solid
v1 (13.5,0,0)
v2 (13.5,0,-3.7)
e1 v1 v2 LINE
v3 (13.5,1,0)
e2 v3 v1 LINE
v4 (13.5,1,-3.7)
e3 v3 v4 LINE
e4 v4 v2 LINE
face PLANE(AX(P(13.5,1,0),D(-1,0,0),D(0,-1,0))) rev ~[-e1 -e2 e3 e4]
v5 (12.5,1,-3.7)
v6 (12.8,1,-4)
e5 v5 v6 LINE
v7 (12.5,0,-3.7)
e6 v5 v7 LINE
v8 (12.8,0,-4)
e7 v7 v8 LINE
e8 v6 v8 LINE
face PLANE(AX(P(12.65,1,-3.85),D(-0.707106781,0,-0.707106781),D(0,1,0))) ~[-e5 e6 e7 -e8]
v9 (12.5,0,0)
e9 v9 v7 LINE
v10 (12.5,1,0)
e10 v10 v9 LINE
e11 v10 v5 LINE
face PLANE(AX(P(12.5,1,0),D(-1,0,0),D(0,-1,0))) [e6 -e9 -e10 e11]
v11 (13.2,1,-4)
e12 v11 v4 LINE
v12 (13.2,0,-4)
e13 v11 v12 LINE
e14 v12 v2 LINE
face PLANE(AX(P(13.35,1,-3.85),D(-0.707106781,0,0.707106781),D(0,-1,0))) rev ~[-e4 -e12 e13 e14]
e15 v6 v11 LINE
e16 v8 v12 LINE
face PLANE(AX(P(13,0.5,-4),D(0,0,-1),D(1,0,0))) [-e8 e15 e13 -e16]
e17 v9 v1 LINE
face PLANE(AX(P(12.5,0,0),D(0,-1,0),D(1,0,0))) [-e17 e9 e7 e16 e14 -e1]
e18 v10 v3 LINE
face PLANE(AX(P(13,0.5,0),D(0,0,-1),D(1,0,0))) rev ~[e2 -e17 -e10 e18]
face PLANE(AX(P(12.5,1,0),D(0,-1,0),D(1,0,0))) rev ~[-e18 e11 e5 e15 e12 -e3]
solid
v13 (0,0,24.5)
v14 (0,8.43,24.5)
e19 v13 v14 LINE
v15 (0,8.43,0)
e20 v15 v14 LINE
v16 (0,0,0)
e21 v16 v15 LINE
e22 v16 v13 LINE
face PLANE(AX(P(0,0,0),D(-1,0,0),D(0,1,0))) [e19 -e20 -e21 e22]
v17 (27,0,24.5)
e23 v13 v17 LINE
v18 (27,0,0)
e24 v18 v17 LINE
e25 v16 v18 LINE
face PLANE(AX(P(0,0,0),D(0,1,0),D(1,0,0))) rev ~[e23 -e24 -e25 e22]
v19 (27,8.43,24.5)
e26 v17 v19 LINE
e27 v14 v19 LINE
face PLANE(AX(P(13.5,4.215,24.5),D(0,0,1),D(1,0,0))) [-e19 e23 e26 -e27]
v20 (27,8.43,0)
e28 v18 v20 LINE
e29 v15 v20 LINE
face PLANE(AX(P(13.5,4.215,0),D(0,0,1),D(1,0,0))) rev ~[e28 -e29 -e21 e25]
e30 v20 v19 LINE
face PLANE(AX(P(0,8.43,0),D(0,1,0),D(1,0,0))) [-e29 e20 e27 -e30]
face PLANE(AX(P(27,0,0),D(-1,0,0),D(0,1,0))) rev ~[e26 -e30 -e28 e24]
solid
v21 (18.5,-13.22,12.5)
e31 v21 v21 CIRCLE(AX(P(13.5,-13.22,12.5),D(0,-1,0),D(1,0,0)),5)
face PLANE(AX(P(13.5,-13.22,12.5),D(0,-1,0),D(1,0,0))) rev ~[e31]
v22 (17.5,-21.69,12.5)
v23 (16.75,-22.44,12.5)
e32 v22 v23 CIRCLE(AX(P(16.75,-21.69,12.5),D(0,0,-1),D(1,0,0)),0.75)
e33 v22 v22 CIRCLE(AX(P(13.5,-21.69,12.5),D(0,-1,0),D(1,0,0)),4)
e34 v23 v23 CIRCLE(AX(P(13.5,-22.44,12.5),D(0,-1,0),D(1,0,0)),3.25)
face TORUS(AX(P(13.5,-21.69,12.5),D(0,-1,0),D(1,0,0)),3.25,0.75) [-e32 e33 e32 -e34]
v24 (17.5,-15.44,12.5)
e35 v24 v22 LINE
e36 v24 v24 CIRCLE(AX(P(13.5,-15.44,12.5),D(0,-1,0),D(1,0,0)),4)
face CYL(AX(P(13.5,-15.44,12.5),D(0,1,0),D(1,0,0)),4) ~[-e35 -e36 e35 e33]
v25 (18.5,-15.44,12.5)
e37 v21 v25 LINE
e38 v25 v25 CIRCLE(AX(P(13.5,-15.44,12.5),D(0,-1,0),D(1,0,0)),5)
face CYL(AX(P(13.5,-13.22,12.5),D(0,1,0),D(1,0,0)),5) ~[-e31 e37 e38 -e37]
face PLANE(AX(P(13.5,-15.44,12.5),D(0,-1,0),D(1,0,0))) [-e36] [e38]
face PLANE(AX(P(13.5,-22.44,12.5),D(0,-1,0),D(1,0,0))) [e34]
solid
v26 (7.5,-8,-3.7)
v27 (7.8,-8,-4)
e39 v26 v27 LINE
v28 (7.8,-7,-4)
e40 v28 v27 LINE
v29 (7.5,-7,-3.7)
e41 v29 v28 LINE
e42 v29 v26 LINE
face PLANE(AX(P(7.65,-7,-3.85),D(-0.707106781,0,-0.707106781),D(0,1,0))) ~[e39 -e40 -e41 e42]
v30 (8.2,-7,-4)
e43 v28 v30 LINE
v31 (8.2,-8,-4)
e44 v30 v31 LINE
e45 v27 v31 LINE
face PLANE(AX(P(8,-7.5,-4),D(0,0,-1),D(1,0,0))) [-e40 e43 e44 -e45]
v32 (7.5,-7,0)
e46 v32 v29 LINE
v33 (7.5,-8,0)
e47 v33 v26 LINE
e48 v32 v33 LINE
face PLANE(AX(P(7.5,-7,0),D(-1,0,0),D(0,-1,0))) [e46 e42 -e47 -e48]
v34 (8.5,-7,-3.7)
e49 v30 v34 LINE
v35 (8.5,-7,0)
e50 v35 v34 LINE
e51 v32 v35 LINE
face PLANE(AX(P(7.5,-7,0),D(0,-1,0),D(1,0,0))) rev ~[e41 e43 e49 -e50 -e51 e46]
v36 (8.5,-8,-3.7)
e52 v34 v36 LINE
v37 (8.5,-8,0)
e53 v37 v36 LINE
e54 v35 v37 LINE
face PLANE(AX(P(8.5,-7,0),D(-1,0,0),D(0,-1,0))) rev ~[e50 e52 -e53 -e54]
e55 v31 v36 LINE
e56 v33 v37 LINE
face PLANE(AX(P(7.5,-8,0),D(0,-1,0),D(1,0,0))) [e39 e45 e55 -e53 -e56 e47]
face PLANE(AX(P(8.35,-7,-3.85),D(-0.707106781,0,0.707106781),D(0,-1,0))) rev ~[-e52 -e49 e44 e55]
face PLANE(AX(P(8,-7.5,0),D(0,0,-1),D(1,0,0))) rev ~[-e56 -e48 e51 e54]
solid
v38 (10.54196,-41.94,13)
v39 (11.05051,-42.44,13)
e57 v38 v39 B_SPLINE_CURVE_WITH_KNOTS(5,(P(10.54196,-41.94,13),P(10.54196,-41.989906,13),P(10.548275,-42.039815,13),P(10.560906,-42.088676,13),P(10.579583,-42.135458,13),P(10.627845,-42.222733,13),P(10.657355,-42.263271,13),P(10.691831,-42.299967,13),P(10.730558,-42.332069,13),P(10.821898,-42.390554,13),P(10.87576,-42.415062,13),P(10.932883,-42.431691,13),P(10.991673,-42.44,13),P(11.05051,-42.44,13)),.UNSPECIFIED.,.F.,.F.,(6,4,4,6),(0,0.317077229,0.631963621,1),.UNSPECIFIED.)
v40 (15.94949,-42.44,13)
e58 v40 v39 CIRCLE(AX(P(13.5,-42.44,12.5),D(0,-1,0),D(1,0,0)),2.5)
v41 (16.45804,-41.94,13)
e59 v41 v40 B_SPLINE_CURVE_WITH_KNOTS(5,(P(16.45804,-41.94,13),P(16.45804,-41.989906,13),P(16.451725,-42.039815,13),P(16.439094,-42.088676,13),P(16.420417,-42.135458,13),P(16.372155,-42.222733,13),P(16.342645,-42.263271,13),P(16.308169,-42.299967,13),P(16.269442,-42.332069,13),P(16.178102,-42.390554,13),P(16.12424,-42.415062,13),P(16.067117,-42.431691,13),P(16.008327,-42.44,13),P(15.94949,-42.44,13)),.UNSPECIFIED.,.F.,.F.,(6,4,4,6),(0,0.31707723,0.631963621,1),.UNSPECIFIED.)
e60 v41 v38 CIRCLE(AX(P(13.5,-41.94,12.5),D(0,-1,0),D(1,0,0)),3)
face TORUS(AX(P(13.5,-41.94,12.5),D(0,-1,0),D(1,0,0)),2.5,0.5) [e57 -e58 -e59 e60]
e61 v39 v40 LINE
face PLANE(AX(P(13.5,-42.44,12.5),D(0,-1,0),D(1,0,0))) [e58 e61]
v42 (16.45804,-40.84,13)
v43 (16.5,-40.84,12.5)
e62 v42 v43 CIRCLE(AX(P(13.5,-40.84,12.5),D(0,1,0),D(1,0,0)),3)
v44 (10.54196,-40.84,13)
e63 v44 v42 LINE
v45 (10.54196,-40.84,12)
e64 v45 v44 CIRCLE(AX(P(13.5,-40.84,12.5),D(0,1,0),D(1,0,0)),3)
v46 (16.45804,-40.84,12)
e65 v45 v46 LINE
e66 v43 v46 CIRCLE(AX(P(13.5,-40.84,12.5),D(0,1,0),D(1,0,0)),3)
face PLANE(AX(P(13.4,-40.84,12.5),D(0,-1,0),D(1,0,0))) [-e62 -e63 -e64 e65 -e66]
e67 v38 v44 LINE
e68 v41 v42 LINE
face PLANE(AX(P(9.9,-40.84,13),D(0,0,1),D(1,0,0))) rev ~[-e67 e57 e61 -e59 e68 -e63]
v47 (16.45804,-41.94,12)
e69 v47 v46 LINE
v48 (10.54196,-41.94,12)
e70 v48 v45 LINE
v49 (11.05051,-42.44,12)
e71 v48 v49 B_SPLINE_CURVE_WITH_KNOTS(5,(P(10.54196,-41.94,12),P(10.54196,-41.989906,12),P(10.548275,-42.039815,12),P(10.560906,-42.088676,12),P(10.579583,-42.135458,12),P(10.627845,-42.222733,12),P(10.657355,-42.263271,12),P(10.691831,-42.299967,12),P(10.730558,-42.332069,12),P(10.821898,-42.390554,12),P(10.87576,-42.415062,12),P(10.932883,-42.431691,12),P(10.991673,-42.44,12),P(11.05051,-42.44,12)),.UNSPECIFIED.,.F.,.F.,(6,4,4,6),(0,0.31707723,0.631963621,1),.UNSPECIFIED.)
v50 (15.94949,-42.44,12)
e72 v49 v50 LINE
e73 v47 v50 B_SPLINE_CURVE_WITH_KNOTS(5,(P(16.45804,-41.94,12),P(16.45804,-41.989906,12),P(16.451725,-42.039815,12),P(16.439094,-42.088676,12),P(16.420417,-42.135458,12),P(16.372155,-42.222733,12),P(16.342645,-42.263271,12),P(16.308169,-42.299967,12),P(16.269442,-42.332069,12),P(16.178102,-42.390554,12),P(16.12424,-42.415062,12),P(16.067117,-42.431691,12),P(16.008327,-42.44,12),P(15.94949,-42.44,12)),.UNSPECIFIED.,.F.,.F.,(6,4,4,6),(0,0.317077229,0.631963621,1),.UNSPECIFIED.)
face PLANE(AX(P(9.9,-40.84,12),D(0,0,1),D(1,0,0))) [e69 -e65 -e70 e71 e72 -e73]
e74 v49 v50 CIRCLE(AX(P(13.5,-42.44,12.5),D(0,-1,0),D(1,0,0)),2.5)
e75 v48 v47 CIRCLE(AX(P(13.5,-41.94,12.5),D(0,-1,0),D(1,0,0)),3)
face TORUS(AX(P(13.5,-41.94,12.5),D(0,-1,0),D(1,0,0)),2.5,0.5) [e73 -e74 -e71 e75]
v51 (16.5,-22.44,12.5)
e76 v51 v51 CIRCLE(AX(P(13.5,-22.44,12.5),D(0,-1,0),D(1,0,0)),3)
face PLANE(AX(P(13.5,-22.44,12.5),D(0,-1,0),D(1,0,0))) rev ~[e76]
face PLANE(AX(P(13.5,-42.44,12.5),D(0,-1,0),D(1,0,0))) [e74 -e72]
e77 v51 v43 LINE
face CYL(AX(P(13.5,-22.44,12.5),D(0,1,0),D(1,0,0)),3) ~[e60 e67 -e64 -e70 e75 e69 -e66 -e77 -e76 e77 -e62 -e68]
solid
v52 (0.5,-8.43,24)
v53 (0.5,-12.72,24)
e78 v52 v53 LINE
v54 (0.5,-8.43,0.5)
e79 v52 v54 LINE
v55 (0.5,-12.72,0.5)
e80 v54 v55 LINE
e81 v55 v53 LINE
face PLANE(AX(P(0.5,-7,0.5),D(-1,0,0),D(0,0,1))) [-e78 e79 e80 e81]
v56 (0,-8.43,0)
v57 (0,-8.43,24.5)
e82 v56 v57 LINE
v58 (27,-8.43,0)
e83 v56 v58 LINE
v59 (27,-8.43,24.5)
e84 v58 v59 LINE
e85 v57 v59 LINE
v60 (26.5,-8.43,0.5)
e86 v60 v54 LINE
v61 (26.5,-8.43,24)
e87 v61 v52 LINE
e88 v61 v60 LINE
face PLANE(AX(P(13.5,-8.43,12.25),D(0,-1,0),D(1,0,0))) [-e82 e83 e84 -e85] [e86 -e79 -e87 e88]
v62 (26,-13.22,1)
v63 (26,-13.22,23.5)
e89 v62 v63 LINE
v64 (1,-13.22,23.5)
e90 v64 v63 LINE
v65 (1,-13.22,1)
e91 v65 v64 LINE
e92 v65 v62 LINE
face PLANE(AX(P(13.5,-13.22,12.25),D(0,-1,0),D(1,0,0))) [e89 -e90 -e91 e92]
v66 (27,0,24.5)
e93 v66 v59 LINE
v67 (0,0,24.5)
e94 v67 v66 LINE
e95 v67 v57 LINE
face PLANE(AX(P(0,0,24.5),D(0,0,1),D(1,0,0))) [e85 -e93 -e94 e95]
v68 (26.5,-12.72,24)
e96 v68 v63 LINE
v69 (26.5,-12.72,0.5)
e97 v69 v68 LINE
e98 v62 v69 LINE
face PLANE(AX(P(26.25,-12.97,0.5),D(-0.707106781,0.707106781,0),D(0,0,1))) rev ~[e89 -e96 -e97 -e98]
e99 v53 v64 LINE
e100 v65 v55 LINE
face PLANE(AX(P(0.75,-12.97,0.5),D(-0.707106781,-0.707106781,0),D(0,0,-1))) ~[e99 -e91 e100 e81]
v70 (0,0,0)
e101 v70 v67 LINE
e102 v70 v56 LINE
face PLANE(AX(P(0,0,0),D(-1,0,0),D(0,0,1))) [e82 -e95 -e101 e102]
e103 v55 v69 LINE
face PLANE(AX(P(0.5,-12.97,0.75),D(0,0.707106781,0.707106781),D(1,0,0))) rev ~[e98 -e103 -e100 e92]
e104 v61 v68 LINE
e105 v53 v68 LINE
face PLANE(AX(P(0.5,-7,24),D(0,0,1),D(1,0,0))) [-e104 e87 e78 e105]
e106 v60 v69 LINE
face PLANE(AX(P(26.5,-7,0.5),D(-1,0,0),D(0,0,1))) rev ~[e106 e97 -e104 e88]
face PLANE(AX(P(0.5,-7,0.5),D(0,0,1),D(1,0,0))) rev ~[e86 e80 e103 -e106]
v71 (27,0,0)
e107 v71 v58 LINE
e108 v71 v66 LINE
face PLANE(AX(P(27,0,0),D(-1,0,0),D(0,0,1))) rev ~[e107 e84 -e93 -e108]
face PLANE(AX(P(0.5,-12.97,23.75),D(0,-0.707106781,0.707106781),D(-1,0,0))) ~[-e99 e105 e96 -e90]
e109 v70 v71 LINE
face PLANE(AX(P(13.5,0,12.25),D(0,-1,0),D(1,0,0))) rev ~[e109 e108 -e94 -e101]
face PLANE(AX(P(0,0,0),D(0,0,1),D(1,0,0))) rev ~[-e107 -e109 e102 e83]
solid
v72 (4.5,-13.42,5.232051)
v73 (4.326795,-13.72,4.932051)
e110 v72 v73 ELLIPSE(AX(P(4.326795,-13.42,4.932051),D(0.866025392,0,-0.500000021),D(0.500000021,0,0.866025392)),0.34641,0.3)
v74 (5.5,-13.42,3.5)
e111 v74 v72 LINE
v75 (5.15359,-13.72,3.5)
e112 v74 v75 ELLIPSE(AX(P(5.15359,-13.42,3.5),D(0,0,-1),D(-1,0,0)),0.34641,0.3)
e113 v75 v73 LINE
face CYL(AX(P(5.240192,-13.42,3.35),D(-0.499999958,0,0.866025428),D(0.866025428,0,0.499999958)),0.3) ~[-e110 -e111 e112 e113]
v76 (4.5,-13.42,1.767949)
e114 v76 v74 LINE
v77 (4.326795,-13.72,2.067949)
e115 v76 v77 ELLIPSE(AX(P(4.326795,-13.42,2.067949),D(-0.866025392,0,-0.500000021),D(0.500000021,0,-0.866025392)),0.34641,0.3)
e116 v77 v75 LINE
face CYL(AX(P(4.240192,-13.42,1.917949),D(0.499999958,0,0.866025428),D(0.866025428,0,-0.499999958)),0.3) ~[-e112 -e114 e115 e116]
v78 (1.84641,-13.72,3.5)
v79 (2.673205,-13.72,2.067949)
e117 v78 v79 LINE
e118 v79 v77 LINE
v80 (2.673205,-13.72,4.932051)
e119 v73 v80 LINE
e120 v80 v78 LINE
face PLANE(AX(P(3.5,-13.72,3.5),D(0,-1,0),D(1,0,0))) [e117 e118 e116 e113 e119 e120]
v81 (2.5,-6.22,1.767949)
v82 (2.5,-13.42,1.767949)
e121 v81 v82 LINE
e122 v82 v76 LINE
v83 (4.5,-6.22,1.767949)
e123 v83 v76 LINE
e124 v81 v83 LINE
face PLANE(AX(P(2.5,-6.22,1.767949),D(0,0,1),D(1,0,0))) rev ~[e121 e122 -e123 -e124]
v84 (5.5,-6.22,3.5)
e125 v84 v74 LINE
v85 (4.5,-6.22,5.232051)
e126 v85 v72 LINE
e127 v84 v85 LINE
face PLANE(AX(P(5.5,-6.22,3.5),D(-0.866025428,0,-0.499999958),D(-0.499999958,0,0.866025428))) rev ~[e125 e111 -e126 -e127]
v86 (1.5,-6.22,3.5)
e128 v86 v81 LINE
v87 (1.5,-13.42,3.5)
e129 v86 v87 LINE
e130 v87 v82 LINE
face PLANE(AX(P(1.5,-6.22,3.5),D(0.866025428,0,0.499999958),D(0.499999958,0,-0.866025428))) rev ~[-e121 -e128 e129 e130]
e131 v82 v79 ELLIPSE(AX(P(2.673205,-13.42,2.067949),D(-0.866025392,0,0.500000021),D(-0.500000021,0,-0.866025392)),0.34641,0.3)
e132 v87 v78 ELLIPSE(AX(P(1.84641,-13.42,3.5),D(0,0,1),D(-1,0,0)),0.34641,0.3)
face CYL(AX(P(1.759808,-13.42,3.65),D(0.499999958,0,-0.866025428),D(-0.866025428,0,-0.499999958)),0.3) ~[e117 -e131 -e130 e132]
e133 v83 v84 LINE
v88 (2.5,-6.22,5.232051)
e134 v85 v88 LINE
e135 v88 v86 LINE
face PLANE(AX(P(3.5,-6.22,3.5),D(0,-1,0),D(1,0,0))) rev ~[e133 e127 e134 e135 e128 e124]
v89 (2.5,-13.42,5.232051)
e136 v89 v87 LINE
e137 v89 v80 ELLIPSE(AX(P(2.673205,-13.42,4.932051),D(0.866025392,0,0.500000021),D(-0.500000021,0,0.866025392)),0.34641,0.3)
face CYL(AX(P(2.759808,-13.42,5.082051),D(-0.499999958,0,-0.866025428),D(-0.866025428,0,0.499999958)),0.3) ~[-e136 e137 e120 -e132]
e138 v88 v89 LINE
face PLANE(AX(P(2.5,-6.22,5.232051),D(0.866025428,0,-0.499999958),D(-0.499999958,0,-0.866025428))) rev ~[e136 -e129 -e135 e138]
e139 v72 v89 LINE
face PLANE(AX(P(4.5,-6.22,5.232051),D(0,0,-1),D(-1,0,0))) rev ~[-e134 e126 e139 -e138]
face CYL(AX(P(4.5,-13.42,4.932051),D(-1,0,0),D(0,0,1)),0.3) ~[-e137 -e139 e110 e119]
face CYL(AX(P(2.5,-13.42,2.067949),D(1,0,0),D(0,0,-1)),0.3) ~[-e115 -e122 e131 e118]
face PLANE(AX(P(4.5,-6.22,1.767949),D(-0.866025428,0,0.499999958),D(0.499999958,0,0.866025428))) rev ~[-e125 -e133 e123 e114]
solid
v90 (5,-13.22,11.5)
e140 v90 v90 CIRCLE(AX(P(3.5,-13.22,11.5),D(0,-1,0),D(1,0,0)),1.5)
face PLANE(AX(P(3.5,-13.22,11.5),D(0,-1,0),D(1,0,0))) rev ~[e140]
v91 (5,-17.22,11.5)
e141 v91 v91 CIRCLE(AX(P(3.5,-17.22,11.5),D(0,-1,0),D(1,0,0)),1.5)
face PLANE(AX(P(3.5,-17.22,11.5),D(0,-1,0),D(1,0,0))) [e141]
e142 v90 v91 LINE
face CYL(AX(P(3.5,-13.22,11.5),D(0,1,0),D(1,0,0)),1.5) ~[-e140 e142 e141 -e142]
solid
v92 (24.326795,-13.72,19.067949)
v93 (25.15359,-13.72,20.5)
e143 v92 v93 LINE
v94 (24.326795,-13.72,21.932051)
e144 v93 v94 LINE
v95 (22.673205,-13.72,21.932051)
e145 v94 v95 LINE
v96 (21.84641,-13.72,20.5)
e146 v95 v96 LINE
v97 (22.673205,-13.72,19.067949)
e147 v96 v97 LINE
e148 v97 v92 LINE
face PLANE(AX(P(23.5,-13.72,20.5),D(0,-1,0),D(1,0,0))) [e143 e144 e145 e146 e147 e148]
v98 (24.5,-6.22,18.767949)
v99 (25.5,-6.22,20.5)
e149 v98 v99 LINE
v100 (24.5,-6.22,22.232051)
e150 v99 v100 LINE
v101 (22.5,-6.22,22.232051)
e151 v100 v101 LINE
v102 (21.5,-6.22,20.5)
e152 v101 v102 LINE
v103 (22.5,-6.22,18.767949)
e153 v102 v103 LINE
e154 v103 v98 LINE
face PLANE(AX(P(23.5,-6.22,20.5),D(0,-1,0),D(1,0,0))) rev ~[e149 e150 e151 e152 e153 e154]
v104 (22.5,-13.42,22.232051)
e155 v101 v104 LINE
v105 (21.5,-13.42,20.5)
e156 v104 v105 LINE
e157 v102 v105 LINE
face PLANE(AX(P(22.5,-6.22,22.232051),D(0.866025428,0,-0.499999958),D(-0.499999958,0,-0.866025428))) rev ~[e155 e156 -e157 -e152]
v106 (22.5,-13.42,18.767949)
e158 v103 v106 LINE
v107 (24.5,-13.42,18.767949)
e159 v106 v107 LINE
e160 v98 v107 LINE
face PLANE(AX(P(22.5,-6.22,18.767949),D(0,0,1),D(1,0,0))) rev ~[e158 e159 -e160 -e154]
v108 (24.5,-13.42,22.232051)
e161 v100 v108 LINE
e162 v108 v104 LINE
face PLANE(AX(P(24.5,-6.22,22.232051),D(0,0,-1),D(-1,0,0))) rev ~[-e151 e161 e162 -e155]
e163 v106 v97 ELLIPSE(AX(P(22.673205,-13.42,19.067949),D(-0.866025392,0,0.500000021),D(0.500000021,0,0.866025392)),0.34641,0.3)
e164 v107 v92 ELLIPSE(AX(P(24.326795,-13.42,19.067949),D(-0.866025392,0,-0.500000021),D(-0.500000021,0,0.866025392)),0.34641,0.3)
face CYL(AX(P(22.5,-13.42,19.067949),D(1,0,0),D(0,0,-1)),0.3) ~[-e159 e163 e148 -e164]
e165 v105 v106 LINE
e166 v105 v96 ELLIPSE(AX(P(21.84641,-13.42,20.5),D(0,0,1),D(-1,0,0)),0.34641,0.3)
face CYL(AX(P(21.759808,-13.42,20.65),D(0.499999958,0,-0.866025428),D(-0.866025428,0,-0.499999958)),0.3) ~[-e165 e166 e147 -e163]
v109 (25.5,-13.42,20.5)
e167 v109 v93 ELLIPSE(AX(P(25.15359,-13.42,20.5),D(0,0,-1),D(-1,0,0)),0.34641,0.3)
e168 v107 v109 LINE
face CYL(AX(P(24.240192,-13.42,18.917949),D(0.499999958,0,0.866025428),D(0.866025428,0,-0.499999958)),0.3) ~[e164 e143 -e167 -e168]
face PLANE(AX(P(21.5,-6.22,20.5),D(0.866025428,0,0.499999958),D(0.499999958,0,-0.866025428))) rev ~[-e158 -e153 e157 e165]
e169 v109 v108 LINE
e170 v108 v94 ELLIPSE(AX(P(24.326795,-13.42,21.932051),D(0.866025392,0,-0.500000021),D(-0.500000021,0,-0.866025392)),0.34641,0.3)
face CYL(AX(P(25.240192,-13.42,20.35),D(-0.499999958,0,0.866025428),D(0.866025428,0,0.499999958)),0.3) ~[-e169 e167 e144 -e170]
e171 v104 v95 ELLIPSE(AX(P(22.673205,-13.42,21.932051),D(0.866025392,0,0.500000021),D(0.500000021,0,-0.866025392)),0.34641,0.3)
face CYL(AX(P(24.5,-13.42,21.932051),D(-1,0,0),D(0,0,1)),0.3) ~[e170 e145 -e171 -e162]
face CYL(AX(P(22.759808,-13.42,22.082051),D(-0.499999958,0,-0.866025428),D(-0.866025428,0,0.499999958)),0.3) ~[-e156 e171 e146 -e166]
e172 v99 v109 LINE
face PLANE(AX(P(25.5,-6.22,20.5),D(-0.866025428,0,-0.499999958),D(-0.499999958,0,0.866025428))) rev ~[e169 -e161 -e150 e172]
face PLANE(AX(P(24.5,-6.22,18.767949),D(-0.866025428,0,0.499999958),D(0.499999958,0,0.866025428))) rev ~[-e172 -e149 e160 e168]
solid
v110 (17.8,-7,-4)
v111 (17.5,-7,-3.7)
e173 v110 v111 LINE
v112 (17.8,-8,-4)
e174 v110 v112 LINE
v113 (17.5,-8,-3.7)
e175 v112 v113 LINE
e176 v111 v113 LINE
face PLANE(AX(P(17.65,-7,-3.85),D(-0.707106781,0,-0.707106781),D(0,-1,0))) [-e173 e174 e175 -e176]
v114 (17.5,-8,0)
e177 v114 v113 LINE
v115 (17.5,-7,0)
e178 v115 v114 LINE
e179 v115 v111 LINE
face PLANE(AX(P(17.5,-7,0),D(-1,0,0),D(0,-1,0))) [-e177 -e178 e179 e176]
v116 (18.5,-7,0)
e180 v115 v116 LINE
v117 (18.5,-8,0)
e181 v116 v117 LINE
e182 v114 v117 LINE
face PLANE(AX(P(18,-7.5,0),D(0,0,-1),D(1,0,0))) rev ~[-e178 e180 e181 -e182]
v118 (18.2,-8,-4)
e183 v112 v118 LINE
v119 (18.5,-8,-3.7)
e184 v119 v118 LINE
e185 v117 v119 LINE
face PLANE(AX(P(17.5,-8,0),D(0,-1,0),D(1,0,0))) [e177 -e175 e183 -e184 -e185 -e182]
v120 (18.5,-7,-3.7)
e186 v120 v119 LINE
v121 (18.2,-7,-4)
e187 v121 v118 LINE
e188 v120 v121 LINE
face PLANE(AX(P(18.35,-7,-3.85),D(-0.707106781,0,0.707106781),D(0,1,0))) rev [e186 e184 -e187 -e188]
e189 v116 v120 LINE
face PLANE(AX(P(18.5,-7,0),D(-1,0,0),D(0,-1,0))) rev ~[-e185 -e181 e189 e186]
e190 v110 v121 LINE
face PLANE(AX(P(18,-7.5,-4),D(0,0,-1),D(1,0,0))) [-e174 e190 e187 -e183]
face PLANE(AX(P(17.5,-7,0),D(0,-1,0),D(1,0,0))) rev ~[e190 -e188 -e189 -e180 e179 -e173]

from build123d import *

# Parameters (mm, degrees)
BOX_W             = 27
BOX_H             = 8.43
BOX_DEPTH         = 24.5
BOX001_W          = 27
BOX001_H          = 24.5
BOX001_DEPTH      = 8.43
BOX002_W          = 26
BOX002_H          = 23.5
BOX002_DEPTH      = 6.22
CHAMFER_SIZE      = 0.5
CYLINDER_R        = 5
CYLINDER_DEPTH    = 2.22
CYLINDER001_R     = 4
CYLINDER001_DEPTH = 7
FILLET_R          = 0.75
CYLINDER002_R     = 3
CYLINDER002_DEPTH = 20
FILLET001_R       = 0.5
BOX003_W          = 7
BOX003_H          = 1
BOX003_DEPTH      = 1.6
CYLINDER003_R     = 1.5
CYLINDER003_DEPTH = 4
BOX004_W          = 1
BOX004_H          = 1
BOX004_DEPTH      = 4
CHAMFER005_SIZE   = 0.3
CHAMFER006_SIZE   = 0.3
BOX005_W          = 1
BOX005_H          = 1
BOX005_DEPTH      = 4
CHAMFER003_SIZE   = 0.3
CHAMFER004_SIZE   = 0.3
BOX006_W          = 1
BOX006_H          = 1
BOX006_DEPTH      = 4
CHAMFER001_SIZE   = 0.3
CHAMFER002_SIZE   = 0.3
PRISM_DEPTH       = 7.5
FILLET002_R       = 0.3
PRISM001_DEPTH    = 7.5
FILLET003_R       = 0.3


with BuildPart() as body:
    # Box → Box (join)
    with BuildSketch(Plane.XY):
        with Locations((13.5, 4.215)):
            Rectangle(BOX_W, BOX_H)
    extrude(amount=BOX_DEPTH)


with BuildPart() as body001:
    # Box001 → Box001 (join)
    with BuildSketch(Plane.XZ):
        with Locations((13.5, 12.25)):
            Rectangle(BOX001_W, BOX001_H)
    extrude(amount=BOX001_DEPTH)

    # Box002 → Box002 (join)
    with BuildSketch(Plane(origin=(0.5, -7, 0.5), x_dir=(1, 0, 0), z_dir=(0, -1, 0))):
        with Locations((13, 11.75)):
            Rectangle(BOX002_W, BOX002_H)
    extrude(amount=BOX002_DEPTH)

    # Chamfer
    chamfer_edges = [body001.edges().sort_by_distance(p)[0] for p in [
        (13.5, -13.22, 24),
        (26.5, -13.22, 12.25),
        (13.5, -13.22, 0.5),
        (0.5, -13.22, 12.25),
    ]]
    chamfer(chamfer_edges, length=CHAMFER_SIZE)


with BuildPart() as body002:
    # Cylinder → Cylinder (join)
    with BuildSketch(Plane(origin=(13.5, -13.22, 12.5), x_dir=(1, 0, 0), z_dir=(0, -1, 0))):
        Circle(CYLINDER_R)
    extrude(amount=CYLINDER_DEPTH)

    # Cylinder001 → Cylinder001 (join)
    with BuildSketch(Plane(origin=(13.5, -15.44, 12.5), x_dir=(1, 0, 0), z_dir=(0, -1, 0))):
        Circle(CYLINDER001_R)
    extrude(amount=CYLINDER001_DEPTH)

    # Fillet
    fillet_edges = [body002.edges().sort_by_distance(p)[0] for p in [
        (9.5, -22.44, 12.5),
    ]]
    fillet(fillet_edges, radius=FILLET_R)


with BuildPart() as body003:
    # Cylinder002 → Cylinder002 (join)
    with BuildSketch(Plane(origin=(13.5, -22.44, 12.5), x_dir=(1, 0, 0), z_dir=(0, -1, 0))):
        Circle(CYLINDER002_R)
    extrude(amount=CYLINDER002_DEPTH)

    # Fillet001
    fillet001_edges = [body003.edges().sort_by_distance(p)[0] for p in [
        (10.5, -42.44, 12.5),
    ]]
    fillet(fillet001_edges, radius=FILLET001_R)

    # Box003 → Box003 (cut)
    with BuildSketch(Plane(origin=(9.9, -40.84, 12), x_dir=(1, 0, 0), z_dir=(0, -1, 0))):
        with Locations((3.5, 0.5)):
            Rectangle(BOX003_W, BOX003_H)
    extrude(amount=BOX003_DEPTH, mode=Mode.SUBTRACT)

    # Cylinder003 → Cylinder003 (join)
    with BuildSketch(Plane(origin=(3.5, -13.22, 11.5), x_dir=(1, 0, 0), z_dir=(0, -1, 0))):
        Circle(CYLINDER003_R)
    extrude(amount=CYLINDER003_DEPTH)


with BuildPart() as body004:
    # Box004 → Box004 (join)
    with BuildSketch(Plane(origin=(7.5, -7, 0), x_dir=(1, 0, 0), z_dir=(0, 0, -1))):
        with Locations((0.5, 0.5)):
            Rectangle(BOX004_W, BOX004_H)
    extrude(amount=BOX004_DEPTH)

    # Chamfer005
    chamfer005_edges = [body004.edges().sort_by_distance(p)[0] for p in [
        (7.5, -7.5, -4),
    ]]
    chamfer(chamfer005_edges, length=CHAMFER005_SIZE)

    # Chamfer006
    chamfer006_edges = [body004.edges().sort_by_distance(p)[0] for p in [
        (8.5, -7.5, -4),
    ]]
    chamfer(chamfer006_edges, length=CHAMFER006_SIZE)


with BuildPart() as body005:
    # Box005 → Box005 (join)
    with BuildSketch(Plane(origin=(12.5, 1, 0), x_dir=(1, 0, 0), z_dir=(0, 0, -1))):
        with Locations((0.5, 0.5)):
            Rectangle(BOX005_W, BOX005_H)
    extrude(amount=BOX005_DEPTH)

    # Chamfer003
    chamfer003_edges = [body005.edges().sort_by_distance(p)[0] for p in [
        (12.5, 0.5, -4),
    ]]
    chamfer(chamfer003_edges, length=CHAMFER003_SIZE)

    # Chamfer004
    chamfer004_edges = [body005.edges().sort_by_distance(p)[0] for p in [
        (13.5, 0.5, -4),
    ]]
    chamfer(chamfer004_edges, length=CHAMFER004_SIZE)


with BuildPart() as body006:
    # Box006 → Box006 (join)
    with BuildSketch(Plane(origin=(17.5, -7, 0), x_dir=(1, 0, 0), z_dir=(0, 0, -1))):
        with Locations((0.5, 0.5)):
            Rectangle(BOX006_W, BOX006_H)
    extrude(amount=BOX006_DEPTH)

    # Chamfer001
    chamfer001_edges = [body006.edges().sort_by_distance(p)[0] for p in [
        (18.5, -7.5, -4),
    ]]
    chamfer(chamfer001_edges, length=CHAMFER001_SIZE)

    # Chamfer002
    chamfer002_edges = [body006.edges().sort_by_distance(p)[0] for p in [
        (17.5, -7.5, -4),
    ]]
    chamfer(chamfer002_edges, length=CHAMFER002_SIZE)


with BuildPart() as body007:
    # Prism → Prism (join)
    with BuildSketch(Plane(origin=(23.5, -6.22, 20.5), x_dir=(1, 0, 0), z_dir=(0, -1, 0))):
        Polygon((2, 0), (1, 1.732051), (-1, 1.732051), (-2, 0), (-1, -1.732051), (1, -1.732051), align=None)
    extrude(amount=PRISM_DEPTH)

    # Fillet002
    fillet002_edges = [body007.edges().sort_by_distance(p)[0] for p in [
        (22, -13.72, 21.366025),
        (23.5, -13.72, 22.232051),
        (25, -13.72, 21.366025),
        (25, -13.72, 19.633975),
        (23.5, -13.72, 18.767949),
        (22, -13.72, 19.633975),
    ]]
    fillet(fillet002_edges, radius=FILLET002_R)


with BuildPart() as body008:
    # Prism001 → Prism001 (join)
    with BuildSketch(Plane(origin=(3.5, -6.22, 3.5), x_dir=(1, 0, 0), z_dir=(0, -1, 0))):
        Polygon((2, 0), (1, 1.732051), (-1, 1.732051), (-2, 0), (-1, -1.732051), (1, -1.732051), align=None)
    extrude(amount=PRISM001_DEPTH)

    # Fillet003
    fillet003_edges = [body008.edges().sort_by_distance(p)[0] for p in [
        (5, -13.72, 4.366025),
        (3.5, -13.72, 5.232051),
        (2, -13.72, 4.366025),
        (2, -13.72, 2.633975),
        (3.5, -13.72, 1.767949),
        (5, -13.72, 2.633975),
    ]]
    fillet(fillet003_edges, radius=FILLET003_R)


solid = Compound([body.part, body001.part, body002.part, body003.part, body004.part, body005.part, body006.part, body007.part, body008.part])
